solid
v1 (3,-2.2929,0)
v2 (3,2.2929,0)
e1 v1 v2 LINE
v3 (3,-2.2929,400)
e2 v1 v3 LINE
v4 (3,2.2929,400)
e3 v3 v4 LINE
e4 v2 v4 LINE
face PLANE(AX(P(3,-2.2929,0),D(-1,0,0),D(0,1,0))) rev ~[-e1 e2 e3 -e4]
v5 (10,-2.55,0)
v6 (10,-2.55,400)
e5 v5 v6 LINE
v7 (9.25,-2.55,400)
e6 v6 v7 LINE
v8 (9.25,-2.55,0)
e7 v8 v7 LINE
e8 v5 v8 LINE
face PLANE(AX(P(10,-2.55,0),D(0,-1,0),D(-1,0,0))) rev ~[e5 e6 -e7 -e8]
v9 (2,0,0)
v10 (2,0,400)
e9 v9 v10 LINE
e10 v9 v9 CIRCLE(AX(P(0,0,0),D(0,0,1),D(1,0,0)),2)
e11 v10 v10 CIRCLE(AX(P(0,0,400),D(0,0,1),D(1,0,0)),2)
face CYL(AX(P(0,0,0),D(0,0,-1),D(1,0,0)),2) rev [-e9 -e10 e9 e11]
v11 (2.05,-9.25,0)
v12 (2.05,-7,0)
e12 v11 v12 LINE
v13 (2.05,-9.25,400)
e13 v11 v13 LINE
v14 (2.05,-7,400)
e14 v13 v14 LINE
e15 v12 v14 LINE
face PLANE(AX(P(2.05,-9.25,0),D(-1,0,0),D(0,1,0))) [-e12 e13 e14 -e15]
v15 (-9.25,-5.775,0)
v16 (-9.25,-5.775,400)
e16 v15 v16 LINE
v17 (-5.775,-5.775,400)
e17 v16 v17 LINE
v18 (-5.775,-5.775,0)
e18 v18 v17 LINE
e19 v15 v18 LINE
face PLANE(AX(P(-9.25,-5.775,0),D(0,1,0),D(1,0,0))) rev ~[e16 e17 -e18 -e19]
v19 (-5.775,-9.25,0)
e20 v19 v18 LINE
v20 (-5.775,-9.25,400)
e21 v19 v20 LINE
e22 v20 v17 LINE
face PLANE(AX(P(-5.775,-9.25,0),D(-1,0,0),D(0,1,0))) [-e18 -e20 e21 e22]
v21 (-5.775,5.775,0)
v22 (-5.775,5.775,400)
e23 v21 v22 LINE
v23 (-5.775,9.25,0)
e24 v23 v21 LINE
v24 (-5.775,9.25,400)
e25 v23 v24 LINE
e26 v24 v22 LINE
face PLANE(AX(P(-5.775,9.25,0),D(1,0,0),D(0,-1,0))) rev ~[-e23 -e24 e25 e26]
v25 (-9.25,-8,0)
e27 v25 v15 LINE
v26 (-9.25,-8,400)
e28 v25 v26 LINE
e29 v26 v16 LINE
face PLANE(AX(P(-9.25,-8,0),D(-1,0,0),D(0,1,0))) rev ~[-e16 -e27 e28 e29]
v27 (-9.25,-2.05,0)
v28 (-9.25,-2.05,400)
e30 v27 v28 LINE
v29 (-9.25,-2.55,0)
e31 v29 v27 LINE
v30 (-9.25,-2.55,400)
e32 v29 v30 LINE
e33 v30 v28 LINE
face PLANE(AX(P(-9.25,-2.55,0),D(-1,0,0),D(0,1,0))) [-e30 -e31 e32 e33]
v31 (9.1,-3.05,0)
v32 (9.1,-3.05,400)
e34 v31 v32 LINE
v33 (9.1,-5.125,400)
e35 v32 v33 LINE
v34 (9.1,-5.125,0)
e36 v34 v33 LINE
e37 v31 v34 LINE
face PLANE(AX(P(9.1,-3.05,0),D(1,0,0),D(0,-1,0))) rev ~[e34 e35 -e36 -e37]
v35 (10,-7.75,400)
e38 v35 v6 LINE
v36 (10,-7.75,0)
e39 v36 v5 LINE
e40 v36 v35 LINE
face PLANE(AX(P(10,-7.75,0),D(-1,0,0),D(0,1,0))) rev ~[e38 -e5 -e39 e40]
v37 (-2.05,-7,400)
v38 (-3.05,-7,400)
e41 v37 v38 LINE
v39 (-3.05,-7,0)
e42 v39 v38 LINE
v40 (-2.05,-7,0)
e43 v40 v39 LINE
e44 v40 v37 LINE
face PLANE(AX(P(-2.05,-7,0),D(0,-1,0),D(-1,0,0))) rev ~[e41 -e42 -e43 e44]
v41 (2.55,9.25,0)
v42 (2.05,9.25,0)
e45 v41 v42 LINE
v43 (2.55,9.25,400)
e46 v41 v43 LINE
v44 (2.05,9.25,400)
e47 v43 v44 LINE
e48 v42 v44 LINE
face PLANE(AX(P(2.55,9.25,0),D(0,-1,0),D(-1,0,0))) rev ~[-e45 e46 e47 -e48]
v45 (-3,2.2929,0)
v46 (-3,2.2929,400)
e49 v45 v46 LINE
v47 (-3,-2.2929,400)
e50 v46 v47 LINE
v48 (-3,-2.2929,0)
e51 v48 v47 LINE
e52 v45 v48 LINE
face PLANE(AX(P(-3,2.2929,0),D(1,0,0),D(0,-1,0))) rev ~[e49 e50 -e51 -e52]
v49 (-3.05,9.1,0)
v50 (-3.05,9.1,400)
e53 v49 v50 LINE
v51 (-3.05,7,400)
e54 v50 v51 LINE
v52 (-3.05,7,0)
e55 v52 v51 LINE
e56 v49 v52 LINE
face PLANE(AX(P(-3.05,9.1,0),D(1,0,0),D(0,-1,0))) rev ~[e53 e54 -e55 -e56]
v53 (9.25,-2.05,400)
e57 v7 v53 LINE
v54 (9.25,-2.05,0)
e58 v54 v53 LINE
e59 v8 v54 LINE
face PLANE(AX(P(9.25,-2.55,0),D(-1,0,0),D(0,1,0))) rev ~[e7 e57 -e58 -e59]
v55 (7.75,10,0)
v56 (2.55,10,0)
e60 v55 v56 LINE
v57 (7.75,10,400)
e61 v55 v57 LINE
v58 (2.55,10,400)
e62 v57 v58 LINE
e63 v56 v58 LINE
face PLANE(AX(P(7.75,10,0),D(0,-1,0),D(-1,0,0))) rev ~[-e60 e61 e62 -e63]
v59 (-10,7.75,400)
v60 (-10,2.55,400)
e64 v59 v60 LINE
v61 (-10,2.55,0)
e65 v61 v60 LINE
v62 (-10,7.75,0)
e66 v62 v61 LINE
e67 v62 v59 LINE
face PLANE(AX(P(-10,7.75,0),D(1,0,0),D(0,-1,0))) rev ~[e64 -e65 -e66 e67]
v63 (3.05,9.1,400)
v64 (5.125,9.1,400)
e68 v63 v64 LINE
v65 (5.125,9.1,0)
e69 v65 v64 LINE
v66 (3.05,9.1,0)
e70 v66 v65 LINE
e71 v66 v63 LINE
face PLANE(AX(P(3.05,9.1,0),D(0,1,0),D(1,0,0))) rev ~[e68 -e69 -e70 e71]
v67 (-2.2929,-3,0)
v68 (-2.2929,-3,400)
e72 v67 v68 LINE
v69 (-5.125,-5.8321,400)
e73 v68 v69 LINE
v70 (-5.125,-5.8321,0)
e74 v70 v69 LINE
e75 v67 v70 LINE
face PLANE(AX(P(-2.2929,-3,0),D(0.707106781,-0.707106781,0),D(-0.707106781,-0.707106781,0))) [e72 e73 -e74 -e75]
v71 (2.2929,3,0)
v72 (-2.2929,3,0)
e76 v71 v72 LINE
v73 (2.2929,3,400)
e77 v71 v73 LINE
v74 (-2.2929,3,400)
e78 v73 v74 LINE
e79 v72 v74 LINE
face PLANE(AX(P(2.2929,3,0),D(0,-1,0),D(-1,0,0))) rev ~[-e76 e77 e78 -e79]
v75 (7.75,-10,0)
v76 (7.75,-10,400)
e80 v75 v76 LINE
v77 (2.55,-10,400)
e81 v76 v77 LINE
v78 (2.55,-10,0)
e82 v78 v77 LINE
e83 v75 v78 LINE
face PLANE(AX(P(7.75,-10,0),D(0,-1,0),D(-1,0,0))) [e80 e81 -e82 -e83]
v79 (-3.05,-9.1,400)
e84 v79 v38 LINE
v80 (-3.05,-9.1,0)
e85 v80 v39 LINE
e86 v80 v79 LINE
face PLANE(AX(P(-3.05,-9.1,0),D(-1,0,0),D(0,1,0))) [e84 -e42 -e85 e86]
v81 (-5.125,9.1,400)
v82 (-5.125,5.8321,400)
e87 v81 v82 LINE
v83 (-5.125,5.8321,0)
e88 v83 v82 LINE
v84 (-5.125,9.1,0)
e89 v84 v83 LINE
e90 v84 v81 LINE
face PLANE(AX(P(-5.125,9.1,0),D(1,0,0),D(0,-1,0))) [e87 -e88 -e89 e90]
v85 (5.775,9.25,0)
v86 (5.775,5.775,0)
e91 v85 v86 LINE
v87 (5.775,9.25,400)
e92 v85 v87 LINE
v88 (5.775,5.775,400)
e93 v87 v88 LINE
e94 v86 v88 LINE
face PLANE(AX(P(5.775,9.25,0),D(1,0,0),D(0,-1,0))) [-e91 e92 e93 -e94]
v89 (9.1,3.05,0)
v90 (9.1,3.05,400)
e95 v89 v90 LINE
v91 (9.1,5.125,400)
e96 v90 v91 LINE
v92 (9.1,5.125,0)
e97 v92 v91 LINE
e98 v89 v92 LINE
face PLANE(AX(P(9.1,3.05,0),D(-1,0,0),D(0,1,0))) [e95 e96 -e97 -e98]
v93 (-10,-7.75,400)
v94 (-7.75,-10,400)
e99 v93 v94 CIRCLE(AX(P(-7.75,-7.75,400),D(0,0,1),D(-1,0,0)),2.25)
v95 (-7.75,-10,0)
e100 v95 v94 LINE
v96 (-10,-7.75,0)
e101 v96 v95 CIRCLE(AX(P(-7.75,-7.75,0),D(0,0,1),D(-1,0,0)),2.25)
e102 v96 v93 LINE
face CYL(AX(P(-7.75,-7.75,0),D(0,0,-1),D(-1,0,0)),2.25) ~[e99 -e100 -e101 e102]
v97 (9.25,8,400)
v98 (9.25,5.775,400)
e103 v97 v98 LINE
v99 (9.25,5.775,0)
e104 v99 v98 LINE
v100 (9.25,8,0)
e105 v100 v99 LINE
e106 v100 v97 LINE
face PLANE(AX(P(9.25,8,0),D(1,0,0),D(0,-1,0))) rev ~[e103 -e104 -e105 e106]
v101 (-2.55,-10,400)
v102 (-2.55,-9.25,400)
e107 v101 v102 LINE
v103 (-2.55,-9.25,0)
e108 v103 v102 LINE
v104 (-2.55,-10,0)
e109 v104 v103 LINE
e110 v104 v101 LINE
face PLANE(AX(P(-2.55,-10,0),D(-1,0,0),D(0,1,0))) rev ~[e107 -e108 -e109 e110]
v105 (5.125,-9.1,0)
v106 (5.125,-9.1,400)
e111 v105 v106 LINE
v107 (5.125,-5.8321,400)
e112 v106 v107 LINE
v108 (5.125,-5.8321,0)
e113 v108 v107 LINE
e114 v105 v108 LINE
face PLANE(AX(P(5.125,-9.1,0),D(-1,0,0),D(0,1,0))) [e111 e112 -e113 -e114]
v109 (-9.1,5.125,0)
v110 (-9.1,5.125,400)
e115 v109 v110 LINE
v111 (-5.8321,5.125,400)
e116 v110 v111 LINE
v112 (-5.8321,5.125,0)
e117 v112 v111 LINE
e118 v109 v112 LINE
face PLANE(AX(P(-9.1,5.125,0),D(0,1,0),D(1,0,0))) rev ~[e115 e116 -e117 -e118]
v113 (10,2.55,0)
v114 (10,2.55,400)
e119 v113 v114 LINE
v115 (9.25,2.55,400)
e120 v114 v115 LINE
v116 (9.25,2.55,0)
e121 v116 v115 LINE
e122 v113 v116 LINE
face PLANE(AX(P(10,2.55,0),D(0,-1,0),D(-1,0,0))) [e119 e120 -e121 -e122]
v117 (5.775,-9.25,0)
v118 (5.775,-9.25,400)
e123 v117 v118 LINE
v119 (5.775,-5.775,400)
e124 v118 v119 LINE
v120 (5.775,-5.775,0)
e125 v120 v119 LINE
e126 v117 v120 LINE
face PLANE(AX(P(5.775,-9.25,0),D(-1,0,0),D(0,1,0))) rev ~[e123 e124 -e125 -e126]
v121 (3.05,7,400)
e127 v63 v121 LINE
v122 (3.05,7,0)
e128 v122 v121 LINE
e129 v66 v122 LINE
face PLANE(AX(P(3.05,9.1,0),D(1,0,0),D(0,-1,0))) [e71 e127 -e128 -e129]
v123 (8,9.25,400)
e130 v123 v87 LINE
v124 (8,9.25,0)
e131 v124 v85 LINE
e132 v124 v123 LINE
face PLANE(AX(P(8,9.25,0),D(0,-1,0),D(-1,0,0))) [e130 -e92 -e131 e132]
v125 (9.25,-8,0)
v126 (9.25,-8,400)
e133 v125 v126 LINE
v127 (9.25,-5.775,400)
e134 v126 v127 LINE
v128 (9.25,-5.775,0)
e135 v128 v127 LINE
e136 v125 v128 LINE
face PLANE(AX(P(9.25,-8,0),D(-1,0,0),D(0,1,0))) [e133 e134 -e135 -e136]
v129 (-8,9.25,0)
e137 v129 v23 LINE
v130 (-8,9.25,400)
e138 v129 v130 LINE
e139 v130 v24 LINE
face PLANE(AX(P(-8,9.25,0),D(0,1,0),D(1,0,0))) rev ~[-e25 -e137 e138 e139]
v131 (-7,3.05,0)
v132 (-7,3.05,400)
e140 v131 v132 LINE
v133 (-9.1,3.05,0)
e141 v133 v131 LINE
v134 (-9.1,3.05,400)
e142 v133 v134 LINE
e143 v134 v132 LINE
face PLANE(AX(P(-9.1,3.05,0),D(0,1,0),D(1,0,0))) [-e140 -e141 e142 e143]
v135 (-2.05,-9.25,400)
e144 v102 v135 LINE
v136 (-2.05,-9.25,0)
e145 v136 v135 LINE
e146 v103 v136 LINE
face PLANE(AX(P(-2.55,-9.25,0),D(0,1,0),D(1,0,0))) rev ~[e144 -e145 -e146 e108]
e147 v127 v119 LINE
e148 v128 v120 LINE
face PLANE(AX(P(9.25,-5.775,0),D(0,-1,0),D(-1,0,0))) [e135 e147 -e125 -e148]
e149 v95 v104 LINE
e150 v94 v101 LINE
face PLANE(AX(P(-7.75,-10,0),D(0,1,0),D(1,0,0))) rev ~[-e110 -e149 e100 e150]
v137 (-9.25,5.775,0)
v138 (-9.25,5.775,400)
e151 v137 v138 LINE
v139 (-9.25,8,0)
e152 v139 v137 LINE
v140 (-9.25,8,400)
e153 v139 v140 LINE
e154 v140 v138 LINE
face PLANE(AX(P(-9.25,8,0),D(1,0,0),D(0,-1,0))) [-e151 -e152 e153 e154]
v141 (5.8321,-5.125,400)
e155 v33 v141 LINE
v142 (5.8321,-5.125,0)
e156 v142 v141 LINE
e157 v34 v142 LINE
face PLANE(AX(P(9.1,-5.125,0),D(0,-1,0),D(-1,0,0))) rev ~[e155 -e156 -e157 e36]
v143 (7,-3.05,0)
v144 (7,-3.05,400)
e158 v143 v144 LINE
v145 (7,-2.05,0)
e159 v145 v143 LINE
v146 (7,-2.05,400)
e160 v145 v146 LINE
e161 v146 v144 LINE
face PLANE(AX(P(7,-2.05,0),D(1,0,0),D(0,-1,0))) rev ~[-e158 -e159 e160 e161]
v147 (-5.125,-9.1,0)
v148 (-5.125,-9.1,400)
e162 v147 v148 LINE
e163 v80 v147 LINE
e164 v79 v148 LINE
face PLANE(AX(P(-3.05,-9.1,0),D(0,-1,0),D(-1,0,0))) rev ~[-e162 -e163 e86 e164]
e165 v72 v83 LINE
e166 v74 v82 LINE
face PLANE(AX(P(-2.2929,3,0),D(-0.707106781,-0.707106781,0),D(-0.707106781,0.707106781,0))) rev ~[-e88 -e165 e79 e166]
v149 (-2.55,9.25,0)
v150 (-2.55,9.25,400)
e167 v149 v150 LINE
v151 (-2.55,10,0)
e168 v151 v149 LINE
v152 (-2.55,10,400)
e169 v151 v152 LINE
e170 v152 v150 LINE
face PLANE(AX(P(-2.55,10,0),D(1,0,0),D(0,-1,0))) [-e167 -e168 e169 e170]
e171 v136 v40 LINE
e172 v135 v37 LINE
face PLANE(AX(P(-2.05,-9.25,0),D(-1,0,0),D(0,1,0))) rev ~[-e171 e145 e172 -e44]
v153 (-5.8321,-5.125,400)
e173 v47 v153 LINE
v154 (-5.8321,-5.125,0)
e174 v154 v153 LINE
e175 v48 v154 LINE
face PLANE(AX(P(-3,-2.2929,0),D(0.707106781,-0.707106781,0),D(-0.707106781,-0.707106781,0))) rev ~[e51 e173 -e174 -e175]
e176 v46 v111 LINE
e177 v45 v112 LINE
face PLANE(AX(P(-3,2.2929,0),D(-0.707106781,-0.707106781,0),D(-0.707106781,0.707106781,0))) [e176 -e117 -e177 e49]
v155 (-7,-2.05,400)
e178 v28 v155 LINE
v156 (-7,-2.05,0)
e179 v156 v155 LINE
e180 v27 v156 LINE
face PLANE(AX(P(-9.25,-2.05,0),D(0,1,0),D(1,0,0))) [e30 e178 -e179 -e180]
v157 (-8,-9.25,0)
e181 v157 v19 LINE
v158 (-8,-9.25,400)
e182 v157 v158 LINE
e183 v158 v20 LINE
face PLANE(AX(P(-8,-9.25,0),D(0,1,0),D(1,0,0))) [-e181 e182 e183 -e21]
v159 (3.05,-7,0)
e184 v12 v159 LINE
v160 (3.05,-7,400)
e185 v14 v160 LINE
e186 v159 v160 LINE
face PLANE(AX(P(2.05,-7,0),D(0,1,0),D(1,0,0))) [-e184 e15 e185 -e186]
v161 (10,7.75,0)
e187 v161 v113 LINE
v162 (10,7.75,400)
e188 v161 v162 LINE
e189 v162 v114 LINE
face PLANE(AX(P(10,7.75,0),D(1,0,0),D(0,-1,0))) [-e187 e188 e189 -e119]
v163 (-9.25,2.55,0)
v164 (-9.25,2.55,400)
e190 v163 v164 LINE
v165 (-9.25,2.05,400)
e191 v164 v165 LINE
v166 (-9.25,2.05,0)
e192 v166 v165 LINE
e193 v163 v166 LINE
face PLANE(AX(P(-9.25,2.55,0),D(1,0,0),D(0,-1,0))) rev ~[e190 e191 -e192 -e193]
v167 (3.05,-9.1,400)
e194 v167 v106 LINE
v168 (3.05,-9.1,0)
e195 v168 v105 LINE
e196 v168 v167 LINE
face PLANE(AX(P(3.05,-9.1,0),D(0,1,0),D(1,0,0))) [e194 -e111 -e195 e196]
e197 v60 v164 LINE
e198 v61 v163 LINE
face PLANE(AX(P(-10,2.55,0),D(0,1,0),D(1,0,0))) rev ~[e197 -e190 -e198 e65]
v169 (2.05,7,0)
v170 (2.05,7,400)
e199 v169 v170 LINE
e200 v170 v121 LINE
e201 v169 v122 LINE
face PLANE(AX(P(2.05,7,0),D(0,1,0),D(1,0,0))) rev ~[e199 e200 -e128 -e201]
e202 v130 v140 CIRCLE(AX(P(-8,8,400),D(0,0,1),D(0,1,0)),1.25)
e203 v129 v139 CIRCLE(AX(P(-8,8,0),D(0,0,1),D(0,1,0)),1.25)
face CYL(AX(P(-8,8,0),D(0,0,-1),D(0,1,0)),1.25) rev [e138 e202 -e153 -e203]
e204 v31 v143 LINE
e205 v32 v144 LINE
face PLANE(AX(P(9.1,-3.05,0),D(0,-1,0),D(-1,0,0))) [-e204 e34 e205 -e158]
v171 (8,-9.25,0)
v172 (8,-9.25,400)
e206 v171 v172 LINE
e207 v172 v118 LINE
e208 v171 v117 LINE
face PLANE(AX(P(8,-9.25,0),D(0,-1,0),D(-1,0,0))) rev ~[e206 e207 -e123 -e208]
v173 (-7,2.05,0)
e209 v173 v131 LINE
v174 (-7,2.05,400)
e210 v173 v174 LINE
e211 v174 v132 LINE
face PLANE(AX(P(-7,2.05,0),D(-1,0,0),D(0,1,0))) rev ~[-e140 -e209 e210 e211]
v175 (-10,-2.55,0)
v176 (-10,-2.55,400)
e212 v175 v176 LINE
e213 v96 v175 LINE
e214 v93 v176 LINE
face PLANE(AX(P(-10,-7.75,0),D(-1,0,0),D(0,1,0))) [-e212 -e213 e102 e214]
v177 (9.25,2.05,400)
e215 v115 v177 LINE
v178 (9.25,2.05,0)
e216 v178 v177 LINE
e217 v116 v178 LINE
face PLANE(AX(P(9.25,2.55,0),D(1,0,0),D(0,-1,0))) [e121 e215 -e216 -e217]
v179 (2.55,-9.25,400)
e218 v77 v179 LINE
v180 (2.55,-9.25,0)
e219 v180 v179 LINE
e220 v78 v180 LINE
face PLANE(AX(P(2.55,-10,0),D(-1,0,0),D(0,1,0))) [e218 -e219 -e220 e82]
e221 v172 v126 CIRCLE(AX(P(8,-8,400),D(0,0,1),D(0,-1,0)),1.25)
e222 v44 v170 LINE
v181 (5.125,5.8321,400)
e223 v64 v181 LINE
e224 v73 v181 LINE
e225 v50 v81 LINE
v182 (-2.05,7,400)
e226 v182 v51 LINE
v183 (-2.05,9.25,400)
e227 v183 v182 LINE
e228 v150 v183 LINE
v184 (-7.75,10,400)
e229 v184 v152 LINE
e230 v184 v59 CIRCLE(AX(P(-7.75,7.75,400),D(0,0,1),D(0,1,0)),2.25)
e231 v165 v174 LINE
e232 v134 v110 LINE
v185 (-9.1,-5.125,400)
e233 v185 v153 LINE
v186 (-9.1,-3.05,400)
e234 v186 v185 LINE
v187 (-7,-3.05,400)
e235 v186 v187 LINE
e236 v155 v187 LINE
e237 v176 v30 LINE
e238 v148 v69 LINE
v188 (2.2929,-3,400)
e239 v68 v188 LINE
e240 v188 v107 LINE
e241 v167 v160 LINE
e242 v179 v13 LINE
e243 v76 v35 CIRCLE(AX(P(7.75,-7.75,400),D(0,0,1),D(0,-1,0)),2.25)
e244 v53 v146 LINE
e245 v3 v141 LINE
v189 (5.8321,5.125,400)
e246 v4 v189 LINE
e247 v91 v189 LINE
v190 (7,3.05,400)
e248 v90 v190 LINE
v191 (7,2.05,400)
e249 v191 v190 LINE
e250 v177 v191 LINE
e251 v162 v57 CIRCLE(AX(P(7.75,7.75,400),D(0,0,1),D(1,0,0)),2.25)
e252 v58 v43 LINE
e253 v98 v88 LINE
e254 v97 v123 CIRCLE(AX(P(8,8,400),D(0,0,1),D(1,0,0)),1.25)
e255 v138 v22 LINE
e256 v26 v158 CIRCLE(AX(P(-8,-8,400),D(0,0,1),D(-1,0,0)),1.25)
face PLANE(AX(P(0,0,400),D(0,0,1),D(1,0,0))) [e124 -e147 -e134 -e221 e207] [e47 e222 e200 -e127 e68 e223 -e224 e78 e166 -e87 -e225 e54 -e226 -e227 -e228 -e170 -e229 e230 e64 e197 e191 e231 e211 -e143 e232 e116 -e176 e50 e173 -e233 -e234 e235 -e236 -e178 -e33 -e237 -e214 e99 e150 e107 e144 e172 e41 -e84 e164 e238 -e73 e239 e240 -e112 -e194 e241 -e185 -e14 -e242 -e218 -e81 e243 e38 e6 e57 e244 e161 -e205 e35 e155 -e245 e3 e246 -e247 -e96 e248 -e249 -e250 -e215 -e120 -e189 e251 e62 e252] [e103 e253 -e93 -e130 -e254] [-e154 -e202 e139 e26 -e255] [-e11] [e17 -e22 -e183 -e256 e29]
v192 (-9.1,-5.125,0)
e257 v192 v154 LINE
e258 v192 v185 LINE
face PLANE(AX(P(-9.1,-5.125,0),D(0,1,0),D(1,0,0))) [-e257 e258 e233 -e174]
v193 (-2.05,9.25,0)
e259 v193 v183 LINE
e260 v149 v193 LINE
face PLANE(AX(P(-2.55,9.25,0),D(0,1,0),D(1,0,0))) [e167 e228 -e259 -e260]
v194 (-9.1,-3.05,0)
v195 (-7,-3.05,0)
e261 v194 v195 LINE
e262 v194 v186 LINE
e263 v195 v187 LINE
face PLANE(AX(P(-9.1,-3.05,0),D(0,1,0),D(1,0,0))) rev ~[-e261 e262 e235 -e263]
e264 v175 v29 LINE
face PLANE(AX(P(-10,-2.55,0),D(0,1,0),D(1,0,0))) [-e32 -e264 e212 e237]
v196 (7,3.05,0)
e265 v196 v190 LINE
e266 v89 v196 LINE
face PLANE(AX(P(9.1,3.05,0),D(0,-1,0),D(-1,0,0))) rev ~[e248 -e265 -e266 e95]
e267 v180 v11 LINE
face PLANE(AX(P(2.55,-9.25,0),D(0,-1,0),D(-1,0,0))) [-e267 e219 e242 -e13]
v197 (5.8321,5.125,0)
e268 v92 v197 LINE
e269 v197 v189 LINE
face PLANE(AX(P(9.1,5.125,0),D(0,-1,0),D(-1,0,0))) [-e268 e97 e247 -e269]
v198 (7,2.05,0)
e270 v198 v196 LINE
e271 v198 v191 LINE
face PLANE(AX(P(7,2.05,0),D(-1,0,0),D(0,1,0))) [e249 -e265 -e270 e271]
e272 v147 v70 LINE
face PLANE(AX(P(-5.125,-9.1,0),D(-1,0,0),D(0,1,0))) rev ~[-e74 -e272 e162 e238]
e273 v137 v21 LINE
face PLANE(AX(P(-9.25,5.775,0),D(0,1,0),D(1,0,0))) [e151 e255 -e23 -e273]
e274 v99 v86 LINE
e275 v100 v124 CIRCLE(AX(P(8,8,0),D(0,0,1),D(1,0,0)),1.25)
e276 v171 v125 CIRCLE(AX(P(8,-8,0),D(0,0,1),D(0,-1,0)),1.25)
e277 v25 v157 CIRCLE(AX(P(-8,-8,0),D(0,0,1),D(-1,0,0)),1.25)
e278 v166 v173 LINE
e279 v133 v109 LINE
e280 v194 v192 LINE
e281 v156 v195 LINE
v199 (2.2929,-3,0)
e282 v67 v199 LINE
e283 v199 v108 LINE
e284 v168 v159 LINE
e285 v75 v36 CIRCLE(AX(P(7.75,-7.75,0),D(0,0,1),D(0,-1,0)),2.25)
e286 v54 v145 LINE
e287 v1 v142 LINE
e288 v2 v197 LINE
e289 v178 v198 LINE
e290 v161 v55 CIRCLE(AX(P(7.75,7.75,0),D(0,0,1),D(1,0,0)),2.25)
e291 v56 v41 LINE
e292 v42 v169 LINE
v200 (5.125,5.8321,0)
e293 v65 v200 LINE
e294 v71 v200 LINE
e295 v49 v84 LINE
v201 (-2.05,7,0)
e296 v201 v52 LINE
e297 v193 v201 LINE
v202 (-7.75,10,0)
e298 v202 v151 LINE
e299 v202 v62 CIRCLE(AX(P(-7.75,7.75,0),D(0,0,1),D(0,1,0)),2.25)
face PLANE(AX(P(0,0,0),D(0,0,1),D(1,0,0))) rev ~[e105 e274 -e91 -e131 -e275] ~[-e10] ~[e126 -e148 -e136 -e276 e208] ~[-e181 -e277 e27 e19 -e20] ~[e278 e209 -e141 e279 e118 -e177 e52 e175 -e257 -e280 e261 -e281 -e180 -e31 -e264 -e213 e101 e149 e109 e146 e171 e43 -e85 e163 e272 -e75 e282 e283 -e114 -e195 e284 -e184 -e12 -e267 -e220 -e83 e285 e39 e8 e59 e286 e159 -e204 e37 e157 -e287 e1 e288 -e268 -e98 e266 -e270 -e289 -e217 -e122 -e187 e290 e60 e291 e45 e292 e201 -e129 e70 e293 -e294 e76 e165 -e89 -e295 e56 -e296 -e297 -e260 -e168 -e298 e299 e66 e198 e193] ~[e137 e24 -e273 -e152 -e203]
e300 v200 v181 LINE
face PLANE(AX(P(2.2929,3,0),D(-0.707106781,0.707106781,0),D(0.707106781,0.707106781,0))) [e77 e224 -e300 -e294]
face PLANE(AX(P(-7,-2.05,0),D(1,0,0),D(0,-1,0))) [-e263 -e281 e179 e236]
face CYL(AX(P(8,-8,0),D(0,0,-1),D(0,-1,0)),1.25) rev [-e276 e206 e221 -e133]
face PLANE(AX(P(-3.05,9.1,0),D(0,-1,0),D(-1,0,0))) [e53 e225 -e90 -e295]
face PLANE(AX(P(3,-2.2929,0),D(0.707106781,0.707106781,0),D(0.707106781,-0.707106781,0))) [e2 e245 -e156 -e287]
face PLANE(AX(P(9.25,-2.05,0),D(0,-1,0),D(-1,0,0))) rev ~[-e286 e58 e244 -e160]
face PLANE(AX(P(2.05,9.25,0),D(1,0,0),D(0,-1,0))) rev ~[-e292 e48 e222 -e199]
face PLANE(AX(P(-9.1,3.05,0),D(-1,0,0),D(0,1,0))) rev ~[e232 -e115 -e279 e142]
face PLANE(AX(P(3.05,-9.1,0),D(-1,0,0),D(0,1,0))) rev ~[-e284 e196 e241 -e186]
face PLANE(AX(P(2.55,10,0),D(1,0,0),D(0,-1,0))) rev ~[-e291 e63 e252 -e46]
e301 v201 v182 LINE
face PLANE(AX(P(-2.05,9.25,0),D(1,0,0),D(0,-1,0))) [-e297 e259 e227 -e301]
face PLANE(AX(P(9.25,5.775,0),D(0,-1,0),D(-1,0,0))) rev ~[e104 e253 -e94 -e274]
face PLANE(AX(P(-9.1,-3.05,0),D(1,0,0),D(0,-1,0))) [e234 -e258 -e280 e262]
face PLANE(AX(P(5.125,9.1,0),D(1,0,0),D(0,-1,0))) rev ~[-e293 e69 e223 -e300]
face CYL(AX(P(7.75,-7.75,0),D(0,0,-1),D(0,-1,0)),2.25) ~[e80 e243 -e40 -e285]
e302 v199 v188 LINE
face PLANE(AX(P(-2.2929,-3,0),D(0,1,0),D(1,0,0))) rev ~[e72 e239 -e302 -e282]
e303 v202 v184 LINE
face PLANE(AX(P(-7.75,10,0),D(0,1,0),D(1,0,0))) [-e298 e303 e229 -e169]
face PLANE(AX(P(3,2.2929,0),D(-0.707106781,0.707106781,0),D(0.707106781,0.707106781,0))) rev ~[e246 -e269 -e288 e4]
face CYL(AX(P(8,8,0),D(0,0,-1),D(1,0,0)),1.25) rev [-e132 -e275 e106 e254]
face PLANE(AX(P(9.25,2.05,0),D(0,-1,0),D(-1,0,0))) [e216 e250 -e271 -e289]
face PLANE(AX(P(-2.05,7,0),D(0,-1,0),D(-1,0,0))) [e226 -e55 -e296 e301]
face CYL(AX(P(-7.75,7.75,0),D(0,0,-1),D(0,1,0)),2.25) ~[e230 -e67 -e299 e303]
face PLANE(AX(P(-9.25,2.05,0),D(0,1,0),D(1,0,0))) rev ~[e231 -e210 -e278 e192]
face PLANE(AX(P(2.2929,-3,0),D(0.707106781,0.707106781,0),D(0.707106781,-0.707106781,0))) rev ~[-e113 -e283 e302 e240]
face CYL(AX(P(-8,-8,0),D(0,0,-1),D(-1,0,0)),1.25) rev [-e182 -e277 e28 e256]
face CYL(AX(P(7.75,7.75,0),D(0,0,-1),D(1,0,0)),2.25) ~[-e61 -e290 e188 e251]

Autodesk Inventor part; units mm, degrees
ref_plane "YZ Plane" through (0, 0, 0) normal (1, 0, 0) x (0, 1, 0)
ref_plane "XZ Plane" through (0, 0, 0) normal (0, 1, 0) x (-1, 0, 0)
ref_plane "XY Plane" through (0, 0, 0) normal (0, 0, 1) x (1, 0, 0)
sketch "Sketch1" plane through (0, 0, 0) normal (0, 0, 1) x (1, 0, 0)
  line L0 (-2.55, -10) -> (-2.55, -9.25)
  line L1 (-2.55, -9.25) -> (-2.05, -9.25)
  line L2 (-7.75, -10) -> (-2.55, -10)
  line L3 (-2.05, -9.25) -> (-2.05, -7)
  line L4 (-2.05, -7) -> (-3.05, -7)
  line L5 (-3.05, -9.1) -> (-3.05, -7)
  line L6 (-3.05, -9.1) -> (-5.125, -9.1)
  line L7 (-5.125, -9.1) -> (-5.125, -5.8321)
  line L8 (-8, -9.25) -> (-5.775, -9.25)
  line L9 (-5.775, -9.25) -> (-5.775, -5.775)
  line L10 (-2.2929, -3) -> (2.2929, -3)
  line L11 (3, -2.2929) -> (3, 2.2929)
  line L12 (2.2929, 3) -> (-2.2929, 3)
  line L13 (-3, 2.2929) -> (-3, -2.2929)
  line L14 (-2.2929, -3) -> (-5.125, -5.8321)
  line L15 (-3, -2.2929) -> (-5.8321, -5.125)
  line L16 (-9.1, -5.125) -> (-5.8321, -5.125)
  line L17 (-9.25, -5.775) -> (-5.775, -5.775)
  line L18 (-9.25, -8) -> (-9.25, -5.775)
  line L19 (-10, -7.75) -> (-10, -2.55)
  line L20 (-9.1, -3.05) -> (-9.1, -5.125)
  line L21 (-9.1, -3.05) -> (-7, -3.05)
  line L22 (-9.25, -2.55) -> (-9.25, -2.05)
  line L23 (-9.25, -2.05) -> (-7, -2.05)
  line L24 (-7, -2.05) -> (-7, -3.05)
  line L25 (-10, -2.55) -> (-9.25, -2.55)
  arc A0 (-9.25, -8) -> (-8, -9.25) centre (-8, -8) ccw
  arc A1 (-10, -7.75) -> (-7.75, -10) centre (-7.75, -7.75) ccw
  line L26 (3, -2.2929) -> (5.8321, -5.125)
  line L27 (2.2929, -3) -> (5.125, -5.8321)
  line L28 (5.775, -9.25) -> (5.775, -5.775)
  line L29 (8, -9.25) -> (5.775, -9.25)
  line L30 (7.75, -10) -> (2.55, -10)
  line L31 (3.05, -9.1) -> (5.125, -9.1)
  line L32 (2.55, -10) -> (2.55, -9.25)
  line L33 (3.05, -9.1) -> (3.05, -7)
  line L34 (2.05, -9.25) -> (2.05, -7)
  line L35 (2.55, -9.25) -> (2.05, -9.25)
  line L36 (2.05, -7) -> (3.05, -7)
  line L37 (5.125, -9.1) -> (5.125, -5.8321)
  arc A2 (8, -9.25) -> (9.25, -8) centre (8, -8) ccw
  arc A3 (7.75, -10) -> (10, -7.75) centre (7.75, -7.75) ccw
  line L38 (9.25, -8) -> (9.25, -5.775)
  line L39 (10, -7.75) -> (10, -2.55)
  line L40 (9.25, -5.775) -> (5.775, -5.775)
  line L41 (9.1, -5.125) -> (5.8321, -5.125)
  line L42 (9.1, -3.05) -> (7, -3.05)
  line L43 (7, -2.05) -> (7, -3.05)
  line L44 (9.25, -2.05) -> (7, -2.05)
  line L45 (9.25, -2.55) -> (9.25, -2.05)
  line L46 (10, -2.55) -> (9.25, -2.55)
  line L47 (9.1, -3.05) -> (9.1, -5.125)
  line L48 (2.2929, 3) -> (5.125, 5.8321)
  line L49 (3, 2.2929) -> (5.8321, 5.125)
  line L50 (9.25, 5.775) -> (5.775, 5.775)
  line L51 (9.25, 8) -> (9.25, 5.775)
  line L52 (10, 7.75) -> (10, 2.55)
  line L53 (9.1, 3.05) -> (9.1, 5.125)
  line L54 (10, 2.55) -> (9.25, 2.55)
  line L55 (9.1, 3.05) -> (7, 3.05)
  line L56 (9.25, 2.05) -> (7, 2.05)
  line L57 (9.25, 2.55) -> (9.25, 2.05)
  line L58 (7, 2.05) -> (7, 3.05)
  line L59 (9.1, 5.125) -> (5.8321, 5.125)
  arc A4 (9.25, 8) -> (8, 9.25) centre (8, 8) ccw
  arc A5 (10, 7.75) -> (7.75, 10) centre (7.75, 7.75) ccw
  line L60 (8, 9.25) -> (5.775, 9.25)
  line L61 (7.75, 10) -> (2.55, 10)
  line L62 (5.775, 9.25) -> (5.775, 5.775)
  line L63 (5.125, 9.1) -> (5.125, 5.8321)
  line L64 (3.05, 9.1) -> (3.05, 7)
  line L65 (2.05, 7) -> (3.05, 7)
  line L66 (2.05, 9.25) -> (2.05, 7)
  line L67 (2.55, 9.25) -> (2.05, 9.25)
  line L68 (2.55, 10) -> (2.55, 9.25)
  line L69 (3.05, 9.1) -> (5.125, 9.1)
  line L70 (-3, 2.2929) -> (-5.8321, 5.125)
  line L71 (-2.2929, 3) -> (-5.125, 5.8321)
  line L72 (-5.775, 9.25) -> (-5.775, 5.775)
  line L73 (-8, 9.25) -> (-5.775, 9.25)
  line L74 (-7.75, 10) -> (-2.55, 10)
  line L75 (-3.05, 9.1) -> (-5.125, 9.1)
  line L76 (-2.55, 10) -> (-2.55, 9.25)
  line L77 (-3.05, 9.1) -> (-3.05, 7)
  line L78 (-2.05, 9.25) -> (-2.05, 7)
  line L79 (-2.55, 9.25) -> (-2.05, 9.25)
  line L80 (-2.05, 7) -> (-3.05, 7)
  line L81 (-5.125, 9.1) -> (-5.125, 5.8321)
  arc A6 (-8, 9.25) -> (-9.25, 8) centre (-8, 8) ccw
  arc A7 (-7.75, 10) -> (-10, 7.75) centre (-7.75, 7.75) ccw
  line L82 (-9.25, 8) -> (-9.25, 5.775)
  line L83 (-10, 7.75) -> (-10, 2.55)
  line L84 (-9.25, 5.775) -> (-5.775, 5.775)
  line L85 (-9.1, 5.125) -> (-5.8321, 5.125)
  line L86 (-9.1, 3.05) -> (-7, 3.05)
  line L87 (-7, 2.05) -> (-7, 3.05)
  line L88 (-9.25, 2.05) -> (-7, 2.05)
  line L89 (-9.25, 2.55) -> (-9.25, 2.05)
  line L90 (-10, 2.55) -> (-9.25, 2.55)
  line L91 (-9.1, 3.05) -> (-9.1, 5.125)
  circle A8 centre (0, 0) radius 2
  point P0 (-10, -10)
  point P1 (10, -10)
  point P2 (10, 10)
  point P3 (-10, 10)
  dimension "d2" = 0.75
  dimension "d3" = 7.45
  dimension "d4" = 2.25
  dimension "d5" = 1
  dimension "d6" = 2.1
  dimension "d7" = 0.75
  dimension "d8" = 0.65
  dimension "d9" = 1.25
  dimension "d10" = 2.25
  dimension "d11" = 360
  dimension "d12" = 4
  dimension "d13" = 20
extrude "Extrusion1" add sketch "Sketch1" along normal blind 400
properties part number "2020 dai 400"
